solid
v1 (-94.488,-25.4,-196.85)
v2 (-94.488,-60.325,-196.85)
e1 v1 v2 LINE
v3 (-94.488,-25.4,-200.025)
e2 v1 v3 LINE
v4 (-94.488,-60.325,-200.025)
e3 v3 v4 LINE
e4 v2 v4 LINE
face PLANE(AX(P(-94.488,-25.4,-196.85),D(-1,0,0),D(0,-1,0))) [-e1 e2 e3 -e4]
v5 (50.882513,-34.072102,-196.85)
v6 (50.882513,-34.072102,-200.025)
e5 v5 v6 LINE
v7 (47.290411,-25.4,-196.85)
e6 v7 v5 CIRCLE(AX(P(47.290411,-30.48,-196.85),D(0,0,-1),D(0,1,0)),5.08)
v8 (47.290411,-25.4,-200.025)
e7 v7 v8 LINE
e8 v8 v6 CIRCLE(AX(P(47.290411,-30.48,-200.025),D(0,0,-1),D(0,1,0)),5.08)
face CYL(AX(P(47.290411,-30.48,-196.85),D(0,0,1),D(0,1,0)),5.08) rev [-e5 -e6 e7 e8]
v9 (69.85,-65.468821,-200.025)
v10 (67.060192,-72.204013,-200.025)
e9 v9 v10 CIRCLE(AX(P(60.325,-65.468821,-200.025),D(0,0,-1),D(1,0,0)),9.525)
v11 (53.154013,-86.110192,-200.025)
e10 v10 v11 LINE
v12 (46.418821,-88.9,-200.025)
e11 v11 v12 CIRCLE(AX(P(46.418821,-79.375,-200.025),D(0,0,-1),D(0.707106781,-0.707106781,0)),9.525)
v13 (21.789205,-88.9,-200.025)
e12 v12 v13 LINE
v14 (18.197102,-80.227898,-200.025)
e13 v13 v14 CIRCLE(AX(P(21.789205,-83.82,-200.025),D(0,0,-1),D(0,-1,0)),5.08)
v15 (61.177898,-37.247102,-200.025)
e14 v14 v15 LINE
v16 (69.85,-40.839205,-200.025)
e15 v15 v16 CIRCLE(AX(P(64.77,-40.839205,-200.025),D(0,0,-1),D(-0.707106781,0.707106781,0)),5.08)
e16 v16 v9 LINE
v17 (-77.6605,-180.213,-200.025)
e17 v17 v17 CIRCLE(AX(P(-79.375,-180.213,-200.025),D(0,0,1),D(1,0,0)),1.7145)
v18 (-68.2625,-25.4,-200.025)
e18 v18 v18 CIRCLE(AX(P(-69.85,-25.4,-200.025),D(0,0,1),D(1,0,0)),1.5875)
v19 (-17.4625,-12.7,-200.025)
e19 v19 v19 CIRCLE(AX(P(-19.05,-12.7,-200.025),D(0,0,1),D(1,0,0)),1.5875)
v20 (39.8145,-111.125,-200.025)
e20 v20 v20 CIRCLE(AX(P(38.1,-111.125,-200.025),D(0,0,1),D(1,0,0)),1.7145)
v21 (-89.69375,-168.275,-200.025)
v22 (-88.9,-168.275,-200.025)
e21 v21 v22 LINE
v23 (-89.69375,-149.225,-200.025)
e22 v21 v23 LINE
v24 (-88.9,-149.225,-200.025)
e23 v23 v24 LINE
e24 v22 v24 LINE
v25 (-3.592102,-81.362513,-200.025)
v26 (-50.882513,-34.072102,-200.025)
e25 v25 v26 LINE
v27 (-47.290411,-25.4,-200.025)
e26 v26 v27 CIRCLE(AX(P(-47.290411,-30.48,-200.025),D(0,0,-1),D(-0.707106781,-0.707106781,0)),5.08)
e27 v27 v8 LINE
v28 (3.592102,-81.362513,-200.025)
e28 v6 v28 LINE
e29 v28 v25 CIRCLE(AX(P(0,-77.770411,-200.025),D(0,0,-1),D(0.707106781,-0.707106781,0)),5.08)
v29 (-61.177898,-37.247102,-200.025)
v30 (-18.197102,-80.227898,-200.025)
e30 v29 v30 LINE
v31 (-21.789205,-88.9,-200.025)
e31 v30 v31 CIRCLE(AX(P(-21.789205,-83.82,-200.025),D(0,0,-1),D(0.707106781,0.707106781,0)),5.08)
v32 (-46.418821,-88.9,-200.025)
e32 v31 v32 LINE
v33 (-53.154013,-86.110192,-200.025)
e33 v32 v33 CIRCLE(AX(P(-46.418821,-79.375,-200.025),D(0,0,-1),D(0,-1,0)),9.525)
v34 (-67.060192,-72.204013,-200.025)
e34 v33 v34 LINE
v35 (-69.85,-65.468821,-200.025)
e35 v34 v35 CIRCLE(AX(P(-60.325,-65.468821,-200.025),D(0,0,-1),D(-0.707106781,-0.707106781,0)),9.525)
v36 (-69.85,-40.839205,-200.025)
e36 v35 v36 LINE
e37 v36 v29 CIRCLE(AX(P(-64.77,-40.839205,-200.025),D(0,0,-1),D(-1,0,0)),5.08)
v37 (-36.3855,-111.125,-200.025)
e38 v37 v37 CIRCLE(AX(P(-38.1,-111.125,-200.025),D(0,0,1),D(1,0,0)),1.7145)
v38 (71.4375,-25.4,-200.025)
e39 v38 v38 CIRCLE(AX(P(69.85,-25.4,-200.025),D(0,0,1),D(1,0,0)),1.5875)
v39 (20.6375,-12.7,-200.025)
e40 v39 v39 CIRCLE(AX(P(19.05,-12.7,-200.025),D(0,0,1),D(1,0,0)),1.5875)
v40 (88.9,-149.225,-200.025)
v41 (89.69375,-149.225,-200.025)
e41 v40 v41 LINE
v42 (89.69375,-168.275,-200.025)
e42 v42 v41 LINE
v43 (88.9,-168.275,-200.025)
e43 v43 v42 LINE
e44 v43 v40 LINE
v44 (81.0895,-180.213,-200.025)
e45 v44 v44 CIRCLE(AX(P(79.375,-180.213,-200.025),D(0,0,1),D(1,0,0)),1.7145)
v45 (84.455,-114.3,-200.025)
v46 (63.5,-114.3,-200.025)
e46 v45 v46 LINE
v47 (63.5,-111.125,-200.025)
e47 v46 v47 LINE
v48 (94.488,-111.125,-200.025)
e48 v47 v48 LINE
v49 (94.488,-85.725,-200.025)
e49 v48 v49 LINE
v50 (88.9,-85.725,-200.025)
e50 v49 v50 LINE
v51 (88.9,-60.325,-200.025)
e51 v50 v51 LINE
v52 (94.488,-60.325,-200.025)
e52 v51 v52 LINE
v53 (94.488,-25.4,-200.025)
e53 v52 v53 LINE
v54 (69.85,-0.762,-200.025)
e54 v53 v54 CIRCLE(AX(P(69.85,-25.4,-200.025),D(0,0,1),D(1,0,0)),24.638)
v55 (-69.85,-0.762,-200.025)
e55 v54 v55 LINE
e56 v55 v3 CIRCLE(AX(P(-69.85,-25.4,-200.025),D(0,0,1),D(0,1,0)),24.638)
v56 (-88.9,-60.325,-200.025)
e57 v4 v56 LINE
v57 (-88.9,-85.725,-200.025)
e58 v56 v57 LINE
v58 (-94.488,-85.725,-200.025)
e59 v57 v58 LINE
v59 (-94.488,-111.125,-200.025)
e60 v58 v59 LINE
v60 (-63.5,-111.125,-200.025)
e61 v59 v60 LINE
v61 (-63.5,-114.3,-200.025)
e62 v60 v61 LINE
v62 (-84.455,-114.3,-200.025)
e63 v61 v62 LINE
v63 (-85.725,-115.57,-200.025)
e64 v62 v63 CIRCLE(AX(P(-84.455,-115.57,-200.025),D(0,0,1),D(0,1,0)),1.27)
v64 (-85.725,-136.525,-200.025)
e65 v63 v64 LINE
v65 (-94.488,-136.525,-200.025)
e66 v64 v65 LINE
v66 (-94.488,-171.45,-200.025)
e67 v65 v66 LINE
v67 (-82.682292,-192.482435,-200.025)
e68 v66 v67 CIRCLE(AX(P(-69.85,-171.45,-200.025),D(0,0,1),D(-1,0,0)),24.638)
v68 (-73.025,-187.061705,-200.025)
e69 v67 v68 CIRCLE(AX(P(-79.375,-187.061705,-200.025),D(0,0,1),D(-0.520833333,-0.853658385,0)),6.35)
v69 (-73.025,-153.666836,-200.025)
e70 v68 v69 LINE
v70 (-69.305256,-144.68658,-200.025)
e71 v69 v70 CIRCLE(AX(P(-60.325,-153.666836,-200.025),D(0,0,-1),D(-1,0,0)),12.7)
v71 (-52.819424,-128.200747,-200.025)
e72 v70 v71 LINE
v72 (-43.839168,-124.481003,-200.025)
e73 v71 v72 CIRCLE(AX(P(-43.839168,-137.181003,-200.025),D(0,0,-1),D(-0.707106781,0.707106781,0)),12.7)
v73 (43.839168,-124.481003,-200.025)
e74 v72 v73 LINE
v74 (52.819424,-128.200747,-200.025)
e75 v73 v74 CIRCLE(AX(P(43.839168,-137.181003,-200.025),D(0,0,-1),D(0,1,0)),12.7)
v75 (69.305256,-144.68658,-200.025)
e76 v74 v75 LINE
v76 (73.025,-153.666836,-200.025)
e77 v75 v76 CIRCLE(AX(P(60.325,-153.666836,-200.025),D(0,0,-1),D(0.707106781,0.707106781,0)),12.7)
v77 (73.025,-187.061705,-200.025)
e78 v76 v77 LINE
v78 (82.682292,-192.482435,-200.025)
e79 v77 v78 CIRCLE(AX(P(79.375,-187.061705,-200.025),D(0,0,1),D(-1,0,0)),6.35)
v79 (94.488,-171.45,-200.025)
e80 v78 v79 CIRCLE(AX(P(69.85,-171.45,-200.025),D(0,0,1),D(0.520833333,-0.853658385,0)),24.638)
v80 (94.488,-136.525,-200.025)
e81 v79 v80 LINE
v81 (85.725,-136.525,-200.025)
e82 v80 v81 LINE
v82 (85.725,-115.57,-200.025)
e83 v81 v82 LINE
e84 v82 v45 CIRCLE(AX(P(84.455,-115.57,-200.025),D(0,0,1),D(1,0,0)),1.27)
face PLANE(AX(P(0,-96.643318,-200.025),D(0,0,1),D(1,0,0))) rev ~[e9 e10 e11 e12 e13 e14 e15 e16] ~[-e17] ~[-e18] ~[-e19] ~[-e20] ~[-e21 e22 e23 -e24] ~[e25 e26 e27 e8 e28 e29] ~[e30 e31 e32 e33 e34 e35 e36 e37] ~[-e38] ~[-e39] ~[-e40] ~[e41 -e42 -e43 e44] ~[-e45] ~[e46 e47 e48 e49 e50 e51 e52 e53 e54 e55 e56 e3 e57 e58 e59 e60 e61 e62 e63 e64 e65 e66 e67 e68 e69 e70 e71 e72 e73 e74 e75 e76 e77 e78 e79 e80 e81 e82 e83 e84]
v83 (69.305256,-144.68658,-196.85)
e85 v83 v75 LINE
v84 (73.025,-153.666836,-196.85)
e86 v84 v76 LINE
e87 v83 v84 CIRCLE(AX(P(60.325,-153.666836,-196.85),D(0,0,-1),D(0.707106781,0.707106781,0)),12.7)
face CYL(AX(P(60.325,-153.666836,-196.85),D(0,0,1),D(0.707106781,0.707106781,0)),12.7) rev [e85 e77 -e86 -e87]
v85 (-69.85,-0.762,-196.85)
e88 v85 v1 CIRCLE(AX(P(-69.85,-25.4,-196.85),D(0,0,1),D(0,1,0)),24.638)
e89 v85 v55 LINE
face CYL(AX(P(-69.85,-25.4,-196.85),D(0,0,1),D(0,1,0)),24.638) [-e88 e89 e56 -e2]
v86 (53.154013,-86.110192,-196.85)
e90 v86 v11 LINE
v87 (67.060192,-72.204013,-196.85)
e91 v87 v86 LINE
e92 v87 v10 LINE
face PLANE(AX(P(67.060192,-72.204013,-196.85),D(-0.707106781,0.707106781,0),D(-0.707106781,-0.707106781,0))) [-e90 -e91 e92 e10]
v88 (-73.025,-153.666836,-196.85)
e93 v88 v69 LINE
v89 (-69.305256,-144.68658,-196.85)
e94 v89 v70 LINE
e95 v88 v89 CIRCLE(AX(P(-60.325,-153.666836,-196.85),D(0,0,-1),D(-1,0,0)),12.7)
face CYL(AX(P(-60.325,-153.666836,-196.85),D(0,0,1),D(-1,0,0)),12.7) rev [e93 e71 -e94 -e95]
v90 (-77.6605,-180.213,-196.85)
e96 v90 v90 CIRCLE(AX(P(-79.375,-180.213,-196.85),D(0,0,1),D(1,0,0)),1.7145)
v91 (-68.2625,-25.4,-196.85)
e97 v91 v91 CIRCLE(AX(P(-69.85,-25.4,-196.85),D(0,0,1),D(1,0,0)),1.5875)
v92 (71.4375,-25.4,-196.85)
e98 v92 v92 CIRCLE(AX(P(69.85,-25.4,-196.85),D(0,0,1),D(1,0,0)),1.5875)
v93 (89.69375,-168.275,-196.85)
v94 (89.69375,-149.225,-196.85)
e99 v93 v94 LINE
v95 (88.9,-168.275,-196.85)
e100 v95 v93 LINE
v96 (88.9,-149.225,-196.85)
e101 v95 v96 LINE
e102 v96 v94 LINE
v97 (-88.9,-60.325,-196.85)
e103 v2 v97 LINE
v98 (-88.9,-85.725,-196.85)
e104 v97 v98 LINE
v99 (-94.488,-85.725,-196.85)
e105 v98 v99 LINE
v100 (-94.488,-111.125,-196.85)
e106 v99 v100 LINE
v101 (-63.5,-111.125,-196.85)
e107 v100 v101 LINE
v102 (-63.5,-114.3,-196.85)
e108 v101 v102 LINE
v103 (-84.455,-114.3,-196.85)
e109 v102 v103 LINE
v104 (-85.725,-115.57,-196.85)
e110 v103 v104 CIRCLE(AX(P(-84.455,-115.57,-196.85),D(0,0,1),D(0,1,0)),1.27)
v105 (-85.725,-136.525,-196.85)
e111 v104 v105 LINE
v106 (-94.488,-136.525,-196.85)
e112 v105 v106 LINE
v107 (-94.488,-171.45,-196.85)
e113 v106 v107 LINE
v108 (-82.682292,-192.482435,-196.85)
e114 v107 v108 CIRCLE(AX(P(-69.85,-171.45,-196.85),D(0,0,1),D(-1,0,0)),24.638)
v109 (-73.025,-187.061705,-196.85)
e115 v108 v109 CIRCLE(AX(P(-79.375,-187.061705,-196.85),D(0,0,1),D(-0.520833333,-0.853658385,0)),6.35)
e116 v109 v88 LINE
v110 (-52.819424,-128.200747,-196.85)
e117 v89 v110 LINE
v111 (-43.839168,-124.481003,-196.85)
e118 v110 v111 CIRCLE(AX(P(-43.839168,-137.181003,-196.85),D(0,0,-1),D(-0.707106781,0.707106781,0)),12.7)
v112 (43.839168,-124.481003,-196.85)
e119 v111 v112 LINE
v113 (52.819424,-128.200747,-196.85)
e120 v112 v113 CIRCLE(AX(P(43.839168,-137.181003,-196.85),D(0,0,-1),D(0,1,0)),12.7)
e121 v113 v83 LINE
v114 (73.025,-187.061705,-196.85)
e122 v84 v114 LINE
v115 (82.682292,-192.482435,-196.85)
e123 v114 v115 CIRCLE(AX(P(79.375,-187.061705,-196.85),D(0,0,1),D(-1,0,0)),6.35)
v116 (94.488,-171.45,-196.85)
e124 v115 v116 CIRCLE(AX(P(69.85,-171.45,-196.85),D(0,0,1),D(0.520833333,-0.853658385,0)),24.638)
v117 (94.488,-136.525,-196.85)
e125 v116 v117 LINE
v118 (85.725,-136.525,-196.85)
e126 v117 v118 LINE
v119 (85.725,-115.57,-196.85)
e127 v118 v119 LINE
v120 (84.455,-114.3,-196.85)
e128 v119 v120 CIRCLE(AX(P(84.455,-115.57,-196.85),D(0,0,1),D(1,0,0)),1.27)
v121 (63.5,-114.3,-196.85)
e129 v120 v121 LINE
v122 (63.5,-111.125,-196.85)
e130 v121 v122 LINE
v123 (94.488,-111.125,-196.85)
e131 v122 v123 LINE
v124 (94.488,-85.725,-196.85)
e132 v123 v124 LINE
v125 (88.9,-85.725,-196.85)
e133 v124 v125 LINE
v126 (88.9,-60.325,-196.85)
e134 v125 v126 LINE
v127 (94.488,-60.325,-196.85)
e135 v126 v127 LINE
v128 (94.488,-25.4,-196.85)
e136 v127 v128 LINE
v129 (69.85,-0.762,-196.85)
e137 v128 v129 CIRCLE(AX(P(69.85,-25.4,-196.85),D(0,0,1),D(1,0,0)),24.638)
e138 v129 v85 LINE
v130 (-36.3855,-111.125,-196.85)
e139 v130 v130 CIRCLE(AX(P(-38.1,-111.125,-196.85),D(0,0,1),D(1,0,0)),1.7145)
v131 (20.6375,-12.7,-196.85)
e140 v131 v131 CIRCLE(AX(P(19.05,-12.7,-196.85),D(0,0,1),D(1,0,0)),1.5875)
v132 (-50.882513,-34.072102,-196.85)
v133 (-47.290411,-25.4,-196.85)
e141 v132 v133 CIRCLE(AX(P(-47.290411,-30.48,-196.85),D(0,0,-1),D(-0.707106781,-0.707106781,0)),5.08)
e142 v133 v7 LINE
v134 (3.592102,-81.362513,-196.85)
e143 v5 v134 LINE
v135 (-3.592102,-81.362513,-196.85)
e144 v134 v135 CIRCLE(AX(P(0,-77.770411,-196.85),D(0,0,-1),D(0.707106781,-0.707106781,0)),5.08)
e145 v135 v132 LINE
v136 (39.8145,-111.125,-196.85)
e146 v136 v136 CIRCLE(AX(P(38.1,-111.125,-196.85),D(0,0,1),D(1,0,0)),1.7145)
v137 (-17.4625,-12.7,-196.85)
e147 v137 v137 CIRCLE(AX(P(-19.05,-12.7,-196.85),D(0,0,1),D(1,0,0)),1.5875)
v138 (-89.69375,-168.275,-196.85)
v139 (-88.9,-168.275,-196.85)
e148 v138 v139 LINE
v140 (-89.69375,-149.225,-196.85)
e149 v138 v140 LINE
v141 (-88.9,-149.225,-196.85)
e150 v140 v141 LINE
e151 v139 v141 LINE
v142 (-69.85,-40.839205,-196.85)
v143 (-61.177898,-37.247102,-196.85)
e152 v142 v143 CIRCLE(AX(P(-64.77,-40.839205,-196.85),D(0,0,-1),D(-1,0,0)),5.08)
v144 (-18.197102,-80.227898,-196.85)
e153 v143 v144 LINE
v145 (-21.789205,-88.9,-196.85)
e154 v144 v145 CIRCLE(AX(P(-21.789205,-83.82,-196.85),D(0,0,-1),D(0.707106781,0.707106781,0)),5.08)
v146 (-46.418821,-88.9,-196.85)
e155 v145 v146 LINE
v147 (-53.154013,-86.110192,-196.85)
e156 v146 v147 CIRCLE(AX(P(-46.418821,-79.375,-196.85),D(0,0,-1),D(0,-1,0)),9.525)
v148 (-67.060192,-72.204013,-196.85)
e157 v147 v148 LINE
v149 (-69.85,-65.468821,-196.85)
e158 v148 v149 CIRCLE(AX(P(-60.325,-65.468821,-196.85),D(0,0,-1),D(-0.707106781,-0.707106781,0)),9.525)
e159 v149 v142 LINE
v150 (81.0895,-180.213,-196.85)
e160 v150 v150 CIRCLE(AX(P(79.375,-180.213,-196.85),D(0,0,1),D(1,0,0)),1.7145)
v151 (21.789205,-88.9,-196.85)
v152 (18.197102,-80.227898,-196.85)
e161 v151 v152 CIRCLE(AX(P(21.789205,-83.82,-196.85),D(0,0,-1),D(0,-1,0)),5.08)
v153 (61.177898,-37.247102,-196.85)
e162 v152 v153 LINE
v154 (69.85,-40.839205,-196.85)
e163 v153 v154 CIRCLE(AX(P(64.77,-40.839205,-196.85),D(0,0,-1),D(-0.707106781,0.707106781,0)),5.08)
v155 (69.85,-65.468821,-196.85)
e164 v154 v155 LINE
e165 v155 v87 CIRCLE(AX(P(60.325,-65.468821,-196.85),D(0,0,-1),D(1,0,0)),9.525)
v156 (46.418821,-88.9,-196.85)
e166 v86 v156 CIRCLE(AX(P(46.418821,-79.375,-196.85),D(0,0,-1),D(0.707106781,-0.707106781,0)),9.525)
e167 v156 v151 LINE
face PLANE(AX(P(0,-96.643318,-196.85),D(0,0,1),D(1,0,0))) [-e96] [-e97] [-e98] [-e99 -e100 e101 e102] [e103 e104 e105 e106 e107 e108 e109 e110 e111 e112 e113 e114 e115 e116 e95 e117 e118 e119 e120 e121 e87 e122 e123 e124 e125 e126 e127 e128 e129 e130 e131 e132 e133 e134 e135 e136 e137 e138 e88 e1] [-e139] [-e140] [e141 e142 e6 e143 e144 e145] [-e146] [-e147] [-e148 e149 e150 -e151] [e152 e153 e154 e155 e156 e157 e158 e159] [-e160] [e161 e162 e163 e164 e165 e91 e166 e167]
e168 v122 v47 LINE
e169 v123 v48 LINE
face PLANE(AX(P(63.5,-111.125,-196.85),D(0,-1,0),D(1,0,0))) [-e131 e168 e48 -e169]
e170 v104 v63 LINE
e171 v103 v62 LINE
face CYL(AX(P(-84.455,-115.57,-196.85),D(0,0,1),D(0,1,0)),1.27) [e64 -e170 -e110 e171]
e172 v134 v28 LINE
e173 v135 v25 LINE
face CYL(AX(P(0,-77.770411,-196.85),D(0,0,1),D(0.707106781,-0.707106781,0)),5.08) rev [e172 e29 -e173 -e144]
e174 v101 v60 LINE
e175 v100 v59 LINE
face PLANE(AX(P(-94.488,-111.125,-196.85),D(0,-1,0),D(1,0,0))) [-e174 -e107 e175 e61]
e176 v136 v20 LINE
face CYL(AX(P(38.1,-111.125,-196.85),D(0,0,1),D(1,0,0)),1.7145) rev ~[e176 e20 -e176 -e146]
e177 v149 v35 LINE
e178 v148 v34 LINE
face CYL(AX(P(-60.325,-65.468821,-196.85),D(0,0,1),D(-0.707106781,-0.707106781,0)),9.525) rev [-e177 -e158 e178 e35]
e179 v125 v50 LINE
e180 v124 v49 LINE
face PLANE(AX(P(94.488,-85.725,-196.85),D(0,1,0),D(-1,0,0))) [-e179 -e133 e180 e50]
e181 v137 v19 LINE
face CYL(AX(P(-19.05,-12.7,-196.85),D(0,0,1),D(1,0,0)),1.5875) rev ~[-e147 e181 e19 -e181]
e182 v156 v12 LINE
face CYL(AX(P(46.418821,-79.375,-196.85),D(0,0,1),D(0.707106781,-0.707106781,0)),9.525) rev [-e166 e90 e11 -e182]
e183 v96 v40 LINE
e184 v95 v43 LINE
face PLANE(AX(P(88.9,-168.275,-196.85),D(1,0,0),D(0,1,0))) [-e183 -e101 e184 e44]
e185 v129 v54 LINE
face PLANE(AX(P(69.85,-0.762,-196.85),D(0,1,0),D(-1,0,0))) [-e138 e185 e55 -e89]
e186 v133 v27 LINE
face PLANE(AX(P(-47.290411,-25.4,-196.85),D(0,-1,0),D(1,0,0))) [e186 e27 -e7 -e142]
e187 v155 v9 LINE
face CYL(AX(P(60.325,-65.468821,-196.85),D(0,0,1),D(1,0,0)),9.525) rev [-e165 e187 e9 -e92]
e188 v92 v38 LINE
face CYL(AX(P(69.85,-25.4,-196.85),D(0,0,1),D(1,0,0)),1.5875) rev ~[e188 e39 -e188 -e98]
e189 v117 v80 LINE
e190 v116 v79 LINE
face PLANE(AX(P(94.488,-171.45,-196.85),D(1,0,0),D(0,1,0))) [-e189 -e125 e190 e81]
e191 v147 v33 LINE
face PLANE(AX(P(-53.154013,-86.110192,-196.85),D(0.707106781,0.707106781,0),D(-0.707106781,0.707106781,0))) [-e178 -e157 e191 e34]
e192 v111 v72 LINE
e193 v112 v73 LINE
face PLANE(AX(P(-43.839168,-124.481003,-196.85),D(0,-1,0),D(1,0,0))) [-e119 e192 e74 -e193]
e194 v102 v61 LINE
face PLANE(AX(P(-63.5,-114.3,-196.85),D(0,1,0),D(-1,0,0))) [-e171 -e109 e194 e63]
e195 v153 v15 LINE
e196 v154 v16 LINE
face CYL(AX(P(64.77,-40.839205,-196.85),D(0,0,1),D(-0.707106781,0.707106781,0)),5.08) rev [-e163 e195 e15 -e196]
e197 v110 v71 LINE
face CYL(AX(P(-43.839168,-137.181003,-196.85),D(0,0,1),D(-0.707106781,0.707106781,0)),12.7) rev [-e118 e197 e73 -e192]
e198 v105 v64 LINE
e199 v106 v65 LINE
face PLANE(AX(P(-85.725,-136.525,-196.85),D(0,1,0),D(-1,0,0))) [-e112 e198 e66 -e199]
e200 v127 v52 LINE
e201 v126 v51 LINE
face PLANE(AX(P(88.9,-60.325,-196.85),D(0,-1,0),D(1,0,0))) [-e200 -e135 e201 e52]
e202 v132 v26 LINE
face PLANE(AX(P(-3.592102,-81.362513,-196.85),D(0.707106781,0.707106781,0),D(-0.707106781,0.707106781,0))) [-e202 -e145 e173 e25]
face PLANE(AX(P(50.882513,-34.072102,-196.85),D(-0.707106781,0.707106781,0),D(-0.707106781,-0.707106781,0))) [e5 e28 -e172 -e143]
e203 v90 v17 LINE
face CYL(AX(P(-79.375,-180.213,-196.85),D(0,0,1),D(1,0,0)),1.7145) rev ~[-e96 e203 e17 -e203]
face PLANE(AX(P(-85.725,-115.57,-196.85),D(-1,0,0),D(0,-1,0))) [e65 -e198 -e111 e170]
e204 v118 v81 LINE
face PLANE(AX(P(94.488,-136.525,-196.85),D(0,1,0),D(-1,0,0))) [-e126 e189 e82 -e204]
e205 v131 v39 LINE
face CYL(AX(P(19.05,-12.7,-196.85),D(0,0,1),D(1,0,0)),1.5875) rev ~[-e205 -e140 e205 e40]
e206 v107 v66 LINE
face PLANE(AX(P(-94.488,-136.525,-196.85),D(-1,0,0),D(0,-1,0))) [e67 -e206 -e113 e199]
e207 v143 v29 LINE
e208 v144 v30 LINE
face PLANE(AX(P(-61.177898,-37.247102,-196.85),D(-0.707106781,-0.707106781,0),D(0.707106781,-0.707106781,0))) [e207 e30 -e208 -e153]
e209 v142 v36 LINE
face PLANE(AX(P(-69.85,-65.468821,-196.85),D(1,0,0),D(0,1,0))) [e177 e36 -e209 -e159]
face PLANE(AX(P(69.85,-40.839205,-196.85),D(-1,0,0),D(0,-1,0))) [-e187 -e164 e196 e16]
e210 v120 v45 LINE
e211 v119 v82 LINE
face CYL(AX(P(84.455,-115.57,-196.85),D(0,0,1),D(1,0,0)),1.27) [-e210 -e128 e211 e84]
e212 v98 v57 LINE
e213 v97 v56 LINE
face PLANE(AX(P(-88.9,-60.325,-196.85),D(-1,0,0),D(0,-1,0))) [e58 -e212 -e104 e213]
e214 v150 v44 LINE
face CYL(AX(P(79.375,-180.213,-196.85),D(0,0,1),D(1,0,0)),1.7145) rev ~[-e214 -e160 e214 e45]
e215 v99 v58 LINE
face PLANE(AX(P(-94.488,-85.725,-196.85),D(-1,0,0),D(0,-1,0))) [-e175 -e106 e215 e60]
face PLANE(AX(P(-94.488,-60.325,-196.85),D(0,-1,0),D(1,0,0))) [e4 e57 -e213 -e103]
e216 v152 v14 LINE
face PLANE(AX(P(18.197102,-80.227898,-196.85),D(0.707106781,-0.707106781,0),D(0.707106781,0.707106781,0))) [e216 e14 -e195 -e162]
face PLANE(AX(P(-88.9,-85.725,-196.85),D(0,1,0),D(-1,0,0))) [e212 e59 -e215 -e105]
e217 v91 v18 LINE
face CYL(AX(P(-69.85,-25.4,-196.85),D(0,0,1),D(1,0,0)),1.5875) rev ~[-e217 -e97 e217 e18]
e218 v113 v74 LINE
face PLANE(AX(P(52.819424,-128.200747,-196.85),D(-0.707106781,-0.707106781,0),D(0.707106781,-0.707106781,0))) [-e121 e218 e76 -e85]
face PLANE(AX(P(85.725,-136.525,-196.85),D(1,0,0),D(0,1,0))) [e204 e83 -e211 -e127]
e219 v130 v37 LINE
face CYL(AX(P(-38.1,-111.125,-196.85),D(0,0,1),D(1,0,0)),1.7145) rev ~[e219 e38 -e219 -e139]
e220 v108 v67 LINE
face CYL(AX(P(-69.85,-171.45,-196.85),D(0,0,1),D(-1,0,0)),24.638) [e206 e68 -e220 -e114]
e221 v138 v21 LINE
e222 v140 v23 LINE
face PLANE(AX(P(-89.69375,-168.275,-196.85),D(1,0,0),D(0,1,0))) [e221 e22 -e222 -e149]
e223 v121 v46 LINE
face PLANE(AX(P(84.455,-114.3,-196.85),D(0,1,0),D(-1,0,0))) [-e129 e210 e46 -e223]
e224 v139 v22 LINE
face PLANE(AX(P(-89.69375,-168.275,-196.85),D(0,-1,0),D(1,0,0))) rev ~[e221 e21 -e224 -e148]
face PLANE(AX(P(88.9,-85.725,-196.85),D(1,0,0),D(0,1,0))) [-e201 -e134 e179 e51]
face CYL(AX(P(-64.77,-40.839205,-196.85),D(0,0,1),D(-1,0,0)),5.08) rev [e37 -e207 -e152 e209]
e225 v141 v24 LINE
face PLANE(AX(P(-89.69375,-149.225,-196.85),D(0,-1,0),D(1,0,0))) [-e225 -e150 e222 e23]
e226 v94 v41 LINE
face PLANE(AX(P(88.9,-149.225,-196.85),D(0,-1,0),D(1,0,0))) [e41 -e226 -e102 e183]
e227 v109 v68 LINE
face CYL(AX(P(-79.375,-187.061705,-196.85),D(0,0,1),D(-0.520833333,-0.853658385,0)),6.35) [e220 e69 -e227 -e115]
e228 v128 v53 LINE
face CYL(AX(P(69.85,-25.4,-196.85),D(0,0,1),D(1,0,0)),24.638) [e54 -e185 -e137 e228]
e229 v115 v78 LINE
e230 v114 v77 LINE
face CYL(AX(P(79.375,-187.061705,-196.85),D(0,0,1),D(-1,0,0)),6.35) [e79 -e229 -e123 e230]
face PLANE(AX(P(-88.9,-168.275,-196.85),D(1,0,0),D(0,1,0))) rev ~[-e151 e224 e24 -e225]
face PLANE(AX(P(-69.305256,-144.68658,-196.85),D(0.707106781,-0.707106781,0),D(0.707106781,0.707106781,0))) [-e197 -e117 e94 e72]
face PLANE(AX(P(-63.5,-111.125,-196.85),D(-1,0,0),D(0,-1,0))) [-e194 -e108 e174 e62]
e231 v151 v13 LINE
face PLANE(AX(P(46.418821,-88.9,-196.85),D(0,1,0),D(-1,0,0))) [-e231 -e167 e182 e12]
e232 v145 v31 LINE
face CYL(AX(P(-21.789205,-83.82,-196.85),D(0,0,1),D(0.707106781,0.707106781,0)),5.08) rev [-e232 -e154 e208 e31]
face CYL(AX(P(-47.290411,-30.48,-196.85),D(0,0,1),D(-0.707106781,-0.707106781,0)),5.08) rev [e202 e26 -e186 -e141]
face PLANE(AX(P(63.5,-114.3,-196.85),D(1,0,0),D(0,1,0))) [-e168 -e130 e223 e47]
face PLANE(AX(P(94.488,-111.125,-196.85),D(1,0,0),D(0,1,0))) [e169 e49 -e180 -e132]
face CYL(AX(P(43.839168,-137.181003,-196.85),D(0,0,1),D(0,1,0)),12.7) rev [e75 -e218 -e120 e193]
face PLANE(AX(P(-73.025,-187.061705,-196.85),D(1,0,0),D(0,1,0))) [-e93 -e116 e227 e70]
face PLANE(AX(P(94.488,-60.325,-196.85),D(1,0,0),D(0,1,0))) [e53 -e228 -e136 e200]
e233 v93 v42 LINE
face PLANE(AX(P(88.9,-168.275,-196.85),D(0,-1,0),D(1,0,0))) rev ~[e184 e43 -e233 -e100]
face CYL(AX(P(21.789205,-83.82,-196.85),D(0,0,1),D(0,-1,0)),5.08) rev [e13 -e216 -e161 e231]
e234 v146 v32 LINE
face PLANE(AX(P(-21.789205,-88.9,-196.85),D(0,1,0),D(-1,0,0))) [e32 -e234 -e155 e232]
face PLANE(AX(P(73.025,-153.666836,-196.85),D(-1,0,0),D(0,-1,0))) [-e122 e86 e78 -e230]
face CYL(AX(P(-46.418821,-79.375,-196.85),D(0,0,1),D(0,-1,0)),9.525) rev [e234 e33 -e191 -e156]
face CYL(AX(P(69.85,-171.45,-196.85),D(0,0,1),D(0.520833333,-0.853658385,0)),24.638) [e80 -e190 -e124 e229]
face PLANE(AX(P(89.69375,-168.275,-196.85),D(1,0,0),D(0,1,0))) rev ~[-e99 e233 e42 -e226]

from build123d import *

# Parameters (mm, degrees)
SKETCH1_R           = 1.7145
SKETCH1_W           = 0.79375
SKETCH1_H           = 19.05
SKETCH1_R_2         = 1.5875
BOSS_EXTRUDE1_DEPTH = 3.175


with BuildPart() as part:
    # Sketch1 → Boss-Extrude1 (new body)
    with BuildSketch(Plane.XY.offset(-196.85)):
        with BuildLine():
            Line((-85.725, -136.525), (-94.488, -136.525))
            Line((-94.488, -136.525), (-94.488, -171.45))
            ThreePointArc((-94.488, -171.45), (-91.334797487, -183.509623583), (-82.682291667, -192.482435298))
            ThreePointArc((-82.682291667, -192.482435298), (-76.266849592, -192.599023491), (-73.025, -187.061704551))
            Line((-73.025, -187.061704551), (-73.025, -153.666835653))
            ThreePointArc((-73.025, -153.666835653), (-72.058270063, -148.806756062), (-69.305256121, -144.686579532))
            Line((-69.305256121, -144.686579532), (-52.819423728, -128.200747139))
            ThreePointArc((-52.819423728, -128.200747139), (-48.699247198, -125.447733197), (-43.839167607, -124.48100326))
            Line((-43.839167607, -124.48100326), (43.839167607, -124.48100326))
            ThreePointArc((43.839167607, -124.48100326), (48.699247198, -125.447733197), (52.819423728, -128.200747139))
            Line((52.819423728, -128.200747139), (69.305256121, -144.686579532))
            ThreePointArc((69.305256121, -144.686579532), (72.058270063, -148.806756062), (73.025, -153.666835653))
            Line((73.025, -153.666835653), (73.025, -187.061704551))
            ThreePointArc((73.025, -187.061704551), (76.266849592, -192.599023491), (82.682291667, -192.482435298))
            ThreePointArc((82.682291667, -192.482435298), (91.334797487, -183.509623583), (94.488, -171.45))
            Line((94.488, -171.45), (94.488, -136.525))
            Line((94.488, -136.525), (85.725, -136.525))
            Line((85.725, -136.525), (85.725, -115.57))
            ThreePointArc((85.725, -115.57), (85.353025612, -114.671974388), (84.455, -114.3))
            Line((84.455, -114.3), (63.5, -114.3))
            Line((63.5, -114.3), (63.5, -111.125))
            Line((63.5, -111.125), (94.488, -111.125))
            Line((94.488, -111.125), (94.488, -85.725))
            Line((94.488, -85.725), (88.9, -85.725))
            Line((88.9, -85.725), (88.9, -60.325))
            Line((88.9, -60.325), (94.488, -60.325))
            Line((94.488, -60.325), (94.488, -25.4))
            ThreePointArc((94.488, -25.4), (87.271696875, -7.978303125), (69.85, -0.762))
            Line((69.85, -0.762), (-69.85, -0.762))
            ThreePointArc((-69.85, -0.762), (-87.271696875, -7.978303125), (-94.488, -25.4))
            Line((-94.488, -25.4), (-94.488, -60.325))
            Line((-94.488, -60.325), (-88.9, -60.325))
            Line((-88.9, -60.325), (-88.9, -85.725))
            Line((-88.9, -85.725), (-94.488, -85.725))
            Line((-94.488, -85.725), (-94.488, -111.125))
            Line((-94.488, -111.125), (-63.5, -111.125))
            Line((-63.5, -111.125), (-63.5, -114.3))
            Line((-63.5, -114.3), (-84.455, -114.3))
            ThreePointArc((-84.455, -114.3), (-85.353025612, -114.671974388), (-85.725, -115.57))
            Line((-85.725, -115.57), (-85.725, -136.525))
        make_face()
        with Locations((-79.375, -180.213)):
            Circle(SKETCH1_R, mode=Mode.SUBTRACT)
        with Locations((-89.296875, -158.75)):
            Rectangle(SKETCH1_W, SKETCH1_H, mode=Mode.SUBTRACT)
        with Locations((-38.1, -111.125)):
            Circle(SKETCH1_R, mode=Mode.SUBTRACT)
        with Locations((79.375, -180.213)):
            Circle(SKETCH1_R, mode=Mode.SUBTRACT)
        with Locations((89.296875, -158.75)):
            Rectangle(SKETCH1_W, SKETCH1_H, mode=Mode.SUBTRACT)
        with Locations((38.1, -111.125)):
            Circle(SKETCH1_R, mode=Mode.SUBTRACT)
        with BuildLine():
            ThreePointArc((-67.060192091, -72.204012806), (-69.124952547, -69.113880409), (-69.85, -65.468820715))
            Line((-69.85, -65.468820715), (-69.85, -40.839204897))
            ThreePointArc((-69.85, -40.839204897), (-66.714031836, -36.145896872), (-61.177897552, -37.247102448))
            Line((-61.177897552, -37.247102448), (-18.197102448, -80.227897552))
            ThreePointArc((-18.197102448, -80.227897552), (-17.095896872, -85.764031836), (-21.789204897, -88.9))
            Line((-21.789204897, -88.9), (-46.418820715, -88.9))
            ThreePointArc((-46.418820715, -88.9), (-50.063880409, -88.174952547), (-53.154012806, -86.110192091))
            Line((-53.154012806, -86.110192091), (-67.060192091, -72.204012806))
        make_face(mode=Mode.SUBTRACT)
        with Locations((-69.85, -25.4)):
            Circle(SKETCH1_R_2, mode=Mode.SUBTRACT)
        with Locations((-19.05, -12.7)):
            Circle(SKETCH1_R_2, mode=Mode.SUBTRACT)
        with BuildLine():
            ThreePointArc((3.592102448, -81.36251337), (0, -82.850410922), (-3.592102448, -81.36251337))
            Line((-3.592102448, -81.36251337), (-50.88251337, -34.072102448))
            ThreePointArc((-50.88251337, -34.072102448), (-51.983718947, -28.535968164), (-47.290410922, -25.4))
            Line((-47.290410922, -25.4), (47.290410922, -25.4))
            ThreePointArc((47.290410922, -25.4), (51.983718947, -28.535968164), (50.88251337, -34.072102448))
            Line((50.88251337, -34.072102448), (3.592102448, -81.36251337))
        make_face(mode=Mode.SUBTRACT)
        with BuildLine():
            ThreePointArc((53.154012806, -86.110192091), (50.063880409, -88.174952547), (46.418820715, -88.9))
            Line((46.418820715, -88.9), (21.789204897, -88.9))
            ThreePointArc((21.789204897, -88.9), (17.095896872, -85.764031836), (18.197102448, -80.227897552))
            Line((18.197102448, -80.227897552), (61.177897552, -37.247102448))
            ThreePointArc((61.177897552, -37.247102448), (66.714031836, -36.145896872), (69.85, -40.839204897))
            Line((69.85, -40.839204897), (69.85, -65.468820715))
            ThreePointArc((69.85, -65.468820715), (69.124952547, -69.113880409), (67.060192091, -72.204012806))
            Line((67.060192091, -72.204012806), (53.154012806, -86.110192091))
        make_face(mode=Mode.SUBTRACT)
        with Locations((19.05, -12.7)):
            Circle(SKETCH1_R_2, mode=Mode.SUBTRACT)
        with Locations((69.85, -25.4)):
            Circle(SKETCH1_R_2, mode=Mode.SUBTRACT)
    extrude(amount=-BOSS_EXTRUDE1_DEPTH)


solid = part.part
